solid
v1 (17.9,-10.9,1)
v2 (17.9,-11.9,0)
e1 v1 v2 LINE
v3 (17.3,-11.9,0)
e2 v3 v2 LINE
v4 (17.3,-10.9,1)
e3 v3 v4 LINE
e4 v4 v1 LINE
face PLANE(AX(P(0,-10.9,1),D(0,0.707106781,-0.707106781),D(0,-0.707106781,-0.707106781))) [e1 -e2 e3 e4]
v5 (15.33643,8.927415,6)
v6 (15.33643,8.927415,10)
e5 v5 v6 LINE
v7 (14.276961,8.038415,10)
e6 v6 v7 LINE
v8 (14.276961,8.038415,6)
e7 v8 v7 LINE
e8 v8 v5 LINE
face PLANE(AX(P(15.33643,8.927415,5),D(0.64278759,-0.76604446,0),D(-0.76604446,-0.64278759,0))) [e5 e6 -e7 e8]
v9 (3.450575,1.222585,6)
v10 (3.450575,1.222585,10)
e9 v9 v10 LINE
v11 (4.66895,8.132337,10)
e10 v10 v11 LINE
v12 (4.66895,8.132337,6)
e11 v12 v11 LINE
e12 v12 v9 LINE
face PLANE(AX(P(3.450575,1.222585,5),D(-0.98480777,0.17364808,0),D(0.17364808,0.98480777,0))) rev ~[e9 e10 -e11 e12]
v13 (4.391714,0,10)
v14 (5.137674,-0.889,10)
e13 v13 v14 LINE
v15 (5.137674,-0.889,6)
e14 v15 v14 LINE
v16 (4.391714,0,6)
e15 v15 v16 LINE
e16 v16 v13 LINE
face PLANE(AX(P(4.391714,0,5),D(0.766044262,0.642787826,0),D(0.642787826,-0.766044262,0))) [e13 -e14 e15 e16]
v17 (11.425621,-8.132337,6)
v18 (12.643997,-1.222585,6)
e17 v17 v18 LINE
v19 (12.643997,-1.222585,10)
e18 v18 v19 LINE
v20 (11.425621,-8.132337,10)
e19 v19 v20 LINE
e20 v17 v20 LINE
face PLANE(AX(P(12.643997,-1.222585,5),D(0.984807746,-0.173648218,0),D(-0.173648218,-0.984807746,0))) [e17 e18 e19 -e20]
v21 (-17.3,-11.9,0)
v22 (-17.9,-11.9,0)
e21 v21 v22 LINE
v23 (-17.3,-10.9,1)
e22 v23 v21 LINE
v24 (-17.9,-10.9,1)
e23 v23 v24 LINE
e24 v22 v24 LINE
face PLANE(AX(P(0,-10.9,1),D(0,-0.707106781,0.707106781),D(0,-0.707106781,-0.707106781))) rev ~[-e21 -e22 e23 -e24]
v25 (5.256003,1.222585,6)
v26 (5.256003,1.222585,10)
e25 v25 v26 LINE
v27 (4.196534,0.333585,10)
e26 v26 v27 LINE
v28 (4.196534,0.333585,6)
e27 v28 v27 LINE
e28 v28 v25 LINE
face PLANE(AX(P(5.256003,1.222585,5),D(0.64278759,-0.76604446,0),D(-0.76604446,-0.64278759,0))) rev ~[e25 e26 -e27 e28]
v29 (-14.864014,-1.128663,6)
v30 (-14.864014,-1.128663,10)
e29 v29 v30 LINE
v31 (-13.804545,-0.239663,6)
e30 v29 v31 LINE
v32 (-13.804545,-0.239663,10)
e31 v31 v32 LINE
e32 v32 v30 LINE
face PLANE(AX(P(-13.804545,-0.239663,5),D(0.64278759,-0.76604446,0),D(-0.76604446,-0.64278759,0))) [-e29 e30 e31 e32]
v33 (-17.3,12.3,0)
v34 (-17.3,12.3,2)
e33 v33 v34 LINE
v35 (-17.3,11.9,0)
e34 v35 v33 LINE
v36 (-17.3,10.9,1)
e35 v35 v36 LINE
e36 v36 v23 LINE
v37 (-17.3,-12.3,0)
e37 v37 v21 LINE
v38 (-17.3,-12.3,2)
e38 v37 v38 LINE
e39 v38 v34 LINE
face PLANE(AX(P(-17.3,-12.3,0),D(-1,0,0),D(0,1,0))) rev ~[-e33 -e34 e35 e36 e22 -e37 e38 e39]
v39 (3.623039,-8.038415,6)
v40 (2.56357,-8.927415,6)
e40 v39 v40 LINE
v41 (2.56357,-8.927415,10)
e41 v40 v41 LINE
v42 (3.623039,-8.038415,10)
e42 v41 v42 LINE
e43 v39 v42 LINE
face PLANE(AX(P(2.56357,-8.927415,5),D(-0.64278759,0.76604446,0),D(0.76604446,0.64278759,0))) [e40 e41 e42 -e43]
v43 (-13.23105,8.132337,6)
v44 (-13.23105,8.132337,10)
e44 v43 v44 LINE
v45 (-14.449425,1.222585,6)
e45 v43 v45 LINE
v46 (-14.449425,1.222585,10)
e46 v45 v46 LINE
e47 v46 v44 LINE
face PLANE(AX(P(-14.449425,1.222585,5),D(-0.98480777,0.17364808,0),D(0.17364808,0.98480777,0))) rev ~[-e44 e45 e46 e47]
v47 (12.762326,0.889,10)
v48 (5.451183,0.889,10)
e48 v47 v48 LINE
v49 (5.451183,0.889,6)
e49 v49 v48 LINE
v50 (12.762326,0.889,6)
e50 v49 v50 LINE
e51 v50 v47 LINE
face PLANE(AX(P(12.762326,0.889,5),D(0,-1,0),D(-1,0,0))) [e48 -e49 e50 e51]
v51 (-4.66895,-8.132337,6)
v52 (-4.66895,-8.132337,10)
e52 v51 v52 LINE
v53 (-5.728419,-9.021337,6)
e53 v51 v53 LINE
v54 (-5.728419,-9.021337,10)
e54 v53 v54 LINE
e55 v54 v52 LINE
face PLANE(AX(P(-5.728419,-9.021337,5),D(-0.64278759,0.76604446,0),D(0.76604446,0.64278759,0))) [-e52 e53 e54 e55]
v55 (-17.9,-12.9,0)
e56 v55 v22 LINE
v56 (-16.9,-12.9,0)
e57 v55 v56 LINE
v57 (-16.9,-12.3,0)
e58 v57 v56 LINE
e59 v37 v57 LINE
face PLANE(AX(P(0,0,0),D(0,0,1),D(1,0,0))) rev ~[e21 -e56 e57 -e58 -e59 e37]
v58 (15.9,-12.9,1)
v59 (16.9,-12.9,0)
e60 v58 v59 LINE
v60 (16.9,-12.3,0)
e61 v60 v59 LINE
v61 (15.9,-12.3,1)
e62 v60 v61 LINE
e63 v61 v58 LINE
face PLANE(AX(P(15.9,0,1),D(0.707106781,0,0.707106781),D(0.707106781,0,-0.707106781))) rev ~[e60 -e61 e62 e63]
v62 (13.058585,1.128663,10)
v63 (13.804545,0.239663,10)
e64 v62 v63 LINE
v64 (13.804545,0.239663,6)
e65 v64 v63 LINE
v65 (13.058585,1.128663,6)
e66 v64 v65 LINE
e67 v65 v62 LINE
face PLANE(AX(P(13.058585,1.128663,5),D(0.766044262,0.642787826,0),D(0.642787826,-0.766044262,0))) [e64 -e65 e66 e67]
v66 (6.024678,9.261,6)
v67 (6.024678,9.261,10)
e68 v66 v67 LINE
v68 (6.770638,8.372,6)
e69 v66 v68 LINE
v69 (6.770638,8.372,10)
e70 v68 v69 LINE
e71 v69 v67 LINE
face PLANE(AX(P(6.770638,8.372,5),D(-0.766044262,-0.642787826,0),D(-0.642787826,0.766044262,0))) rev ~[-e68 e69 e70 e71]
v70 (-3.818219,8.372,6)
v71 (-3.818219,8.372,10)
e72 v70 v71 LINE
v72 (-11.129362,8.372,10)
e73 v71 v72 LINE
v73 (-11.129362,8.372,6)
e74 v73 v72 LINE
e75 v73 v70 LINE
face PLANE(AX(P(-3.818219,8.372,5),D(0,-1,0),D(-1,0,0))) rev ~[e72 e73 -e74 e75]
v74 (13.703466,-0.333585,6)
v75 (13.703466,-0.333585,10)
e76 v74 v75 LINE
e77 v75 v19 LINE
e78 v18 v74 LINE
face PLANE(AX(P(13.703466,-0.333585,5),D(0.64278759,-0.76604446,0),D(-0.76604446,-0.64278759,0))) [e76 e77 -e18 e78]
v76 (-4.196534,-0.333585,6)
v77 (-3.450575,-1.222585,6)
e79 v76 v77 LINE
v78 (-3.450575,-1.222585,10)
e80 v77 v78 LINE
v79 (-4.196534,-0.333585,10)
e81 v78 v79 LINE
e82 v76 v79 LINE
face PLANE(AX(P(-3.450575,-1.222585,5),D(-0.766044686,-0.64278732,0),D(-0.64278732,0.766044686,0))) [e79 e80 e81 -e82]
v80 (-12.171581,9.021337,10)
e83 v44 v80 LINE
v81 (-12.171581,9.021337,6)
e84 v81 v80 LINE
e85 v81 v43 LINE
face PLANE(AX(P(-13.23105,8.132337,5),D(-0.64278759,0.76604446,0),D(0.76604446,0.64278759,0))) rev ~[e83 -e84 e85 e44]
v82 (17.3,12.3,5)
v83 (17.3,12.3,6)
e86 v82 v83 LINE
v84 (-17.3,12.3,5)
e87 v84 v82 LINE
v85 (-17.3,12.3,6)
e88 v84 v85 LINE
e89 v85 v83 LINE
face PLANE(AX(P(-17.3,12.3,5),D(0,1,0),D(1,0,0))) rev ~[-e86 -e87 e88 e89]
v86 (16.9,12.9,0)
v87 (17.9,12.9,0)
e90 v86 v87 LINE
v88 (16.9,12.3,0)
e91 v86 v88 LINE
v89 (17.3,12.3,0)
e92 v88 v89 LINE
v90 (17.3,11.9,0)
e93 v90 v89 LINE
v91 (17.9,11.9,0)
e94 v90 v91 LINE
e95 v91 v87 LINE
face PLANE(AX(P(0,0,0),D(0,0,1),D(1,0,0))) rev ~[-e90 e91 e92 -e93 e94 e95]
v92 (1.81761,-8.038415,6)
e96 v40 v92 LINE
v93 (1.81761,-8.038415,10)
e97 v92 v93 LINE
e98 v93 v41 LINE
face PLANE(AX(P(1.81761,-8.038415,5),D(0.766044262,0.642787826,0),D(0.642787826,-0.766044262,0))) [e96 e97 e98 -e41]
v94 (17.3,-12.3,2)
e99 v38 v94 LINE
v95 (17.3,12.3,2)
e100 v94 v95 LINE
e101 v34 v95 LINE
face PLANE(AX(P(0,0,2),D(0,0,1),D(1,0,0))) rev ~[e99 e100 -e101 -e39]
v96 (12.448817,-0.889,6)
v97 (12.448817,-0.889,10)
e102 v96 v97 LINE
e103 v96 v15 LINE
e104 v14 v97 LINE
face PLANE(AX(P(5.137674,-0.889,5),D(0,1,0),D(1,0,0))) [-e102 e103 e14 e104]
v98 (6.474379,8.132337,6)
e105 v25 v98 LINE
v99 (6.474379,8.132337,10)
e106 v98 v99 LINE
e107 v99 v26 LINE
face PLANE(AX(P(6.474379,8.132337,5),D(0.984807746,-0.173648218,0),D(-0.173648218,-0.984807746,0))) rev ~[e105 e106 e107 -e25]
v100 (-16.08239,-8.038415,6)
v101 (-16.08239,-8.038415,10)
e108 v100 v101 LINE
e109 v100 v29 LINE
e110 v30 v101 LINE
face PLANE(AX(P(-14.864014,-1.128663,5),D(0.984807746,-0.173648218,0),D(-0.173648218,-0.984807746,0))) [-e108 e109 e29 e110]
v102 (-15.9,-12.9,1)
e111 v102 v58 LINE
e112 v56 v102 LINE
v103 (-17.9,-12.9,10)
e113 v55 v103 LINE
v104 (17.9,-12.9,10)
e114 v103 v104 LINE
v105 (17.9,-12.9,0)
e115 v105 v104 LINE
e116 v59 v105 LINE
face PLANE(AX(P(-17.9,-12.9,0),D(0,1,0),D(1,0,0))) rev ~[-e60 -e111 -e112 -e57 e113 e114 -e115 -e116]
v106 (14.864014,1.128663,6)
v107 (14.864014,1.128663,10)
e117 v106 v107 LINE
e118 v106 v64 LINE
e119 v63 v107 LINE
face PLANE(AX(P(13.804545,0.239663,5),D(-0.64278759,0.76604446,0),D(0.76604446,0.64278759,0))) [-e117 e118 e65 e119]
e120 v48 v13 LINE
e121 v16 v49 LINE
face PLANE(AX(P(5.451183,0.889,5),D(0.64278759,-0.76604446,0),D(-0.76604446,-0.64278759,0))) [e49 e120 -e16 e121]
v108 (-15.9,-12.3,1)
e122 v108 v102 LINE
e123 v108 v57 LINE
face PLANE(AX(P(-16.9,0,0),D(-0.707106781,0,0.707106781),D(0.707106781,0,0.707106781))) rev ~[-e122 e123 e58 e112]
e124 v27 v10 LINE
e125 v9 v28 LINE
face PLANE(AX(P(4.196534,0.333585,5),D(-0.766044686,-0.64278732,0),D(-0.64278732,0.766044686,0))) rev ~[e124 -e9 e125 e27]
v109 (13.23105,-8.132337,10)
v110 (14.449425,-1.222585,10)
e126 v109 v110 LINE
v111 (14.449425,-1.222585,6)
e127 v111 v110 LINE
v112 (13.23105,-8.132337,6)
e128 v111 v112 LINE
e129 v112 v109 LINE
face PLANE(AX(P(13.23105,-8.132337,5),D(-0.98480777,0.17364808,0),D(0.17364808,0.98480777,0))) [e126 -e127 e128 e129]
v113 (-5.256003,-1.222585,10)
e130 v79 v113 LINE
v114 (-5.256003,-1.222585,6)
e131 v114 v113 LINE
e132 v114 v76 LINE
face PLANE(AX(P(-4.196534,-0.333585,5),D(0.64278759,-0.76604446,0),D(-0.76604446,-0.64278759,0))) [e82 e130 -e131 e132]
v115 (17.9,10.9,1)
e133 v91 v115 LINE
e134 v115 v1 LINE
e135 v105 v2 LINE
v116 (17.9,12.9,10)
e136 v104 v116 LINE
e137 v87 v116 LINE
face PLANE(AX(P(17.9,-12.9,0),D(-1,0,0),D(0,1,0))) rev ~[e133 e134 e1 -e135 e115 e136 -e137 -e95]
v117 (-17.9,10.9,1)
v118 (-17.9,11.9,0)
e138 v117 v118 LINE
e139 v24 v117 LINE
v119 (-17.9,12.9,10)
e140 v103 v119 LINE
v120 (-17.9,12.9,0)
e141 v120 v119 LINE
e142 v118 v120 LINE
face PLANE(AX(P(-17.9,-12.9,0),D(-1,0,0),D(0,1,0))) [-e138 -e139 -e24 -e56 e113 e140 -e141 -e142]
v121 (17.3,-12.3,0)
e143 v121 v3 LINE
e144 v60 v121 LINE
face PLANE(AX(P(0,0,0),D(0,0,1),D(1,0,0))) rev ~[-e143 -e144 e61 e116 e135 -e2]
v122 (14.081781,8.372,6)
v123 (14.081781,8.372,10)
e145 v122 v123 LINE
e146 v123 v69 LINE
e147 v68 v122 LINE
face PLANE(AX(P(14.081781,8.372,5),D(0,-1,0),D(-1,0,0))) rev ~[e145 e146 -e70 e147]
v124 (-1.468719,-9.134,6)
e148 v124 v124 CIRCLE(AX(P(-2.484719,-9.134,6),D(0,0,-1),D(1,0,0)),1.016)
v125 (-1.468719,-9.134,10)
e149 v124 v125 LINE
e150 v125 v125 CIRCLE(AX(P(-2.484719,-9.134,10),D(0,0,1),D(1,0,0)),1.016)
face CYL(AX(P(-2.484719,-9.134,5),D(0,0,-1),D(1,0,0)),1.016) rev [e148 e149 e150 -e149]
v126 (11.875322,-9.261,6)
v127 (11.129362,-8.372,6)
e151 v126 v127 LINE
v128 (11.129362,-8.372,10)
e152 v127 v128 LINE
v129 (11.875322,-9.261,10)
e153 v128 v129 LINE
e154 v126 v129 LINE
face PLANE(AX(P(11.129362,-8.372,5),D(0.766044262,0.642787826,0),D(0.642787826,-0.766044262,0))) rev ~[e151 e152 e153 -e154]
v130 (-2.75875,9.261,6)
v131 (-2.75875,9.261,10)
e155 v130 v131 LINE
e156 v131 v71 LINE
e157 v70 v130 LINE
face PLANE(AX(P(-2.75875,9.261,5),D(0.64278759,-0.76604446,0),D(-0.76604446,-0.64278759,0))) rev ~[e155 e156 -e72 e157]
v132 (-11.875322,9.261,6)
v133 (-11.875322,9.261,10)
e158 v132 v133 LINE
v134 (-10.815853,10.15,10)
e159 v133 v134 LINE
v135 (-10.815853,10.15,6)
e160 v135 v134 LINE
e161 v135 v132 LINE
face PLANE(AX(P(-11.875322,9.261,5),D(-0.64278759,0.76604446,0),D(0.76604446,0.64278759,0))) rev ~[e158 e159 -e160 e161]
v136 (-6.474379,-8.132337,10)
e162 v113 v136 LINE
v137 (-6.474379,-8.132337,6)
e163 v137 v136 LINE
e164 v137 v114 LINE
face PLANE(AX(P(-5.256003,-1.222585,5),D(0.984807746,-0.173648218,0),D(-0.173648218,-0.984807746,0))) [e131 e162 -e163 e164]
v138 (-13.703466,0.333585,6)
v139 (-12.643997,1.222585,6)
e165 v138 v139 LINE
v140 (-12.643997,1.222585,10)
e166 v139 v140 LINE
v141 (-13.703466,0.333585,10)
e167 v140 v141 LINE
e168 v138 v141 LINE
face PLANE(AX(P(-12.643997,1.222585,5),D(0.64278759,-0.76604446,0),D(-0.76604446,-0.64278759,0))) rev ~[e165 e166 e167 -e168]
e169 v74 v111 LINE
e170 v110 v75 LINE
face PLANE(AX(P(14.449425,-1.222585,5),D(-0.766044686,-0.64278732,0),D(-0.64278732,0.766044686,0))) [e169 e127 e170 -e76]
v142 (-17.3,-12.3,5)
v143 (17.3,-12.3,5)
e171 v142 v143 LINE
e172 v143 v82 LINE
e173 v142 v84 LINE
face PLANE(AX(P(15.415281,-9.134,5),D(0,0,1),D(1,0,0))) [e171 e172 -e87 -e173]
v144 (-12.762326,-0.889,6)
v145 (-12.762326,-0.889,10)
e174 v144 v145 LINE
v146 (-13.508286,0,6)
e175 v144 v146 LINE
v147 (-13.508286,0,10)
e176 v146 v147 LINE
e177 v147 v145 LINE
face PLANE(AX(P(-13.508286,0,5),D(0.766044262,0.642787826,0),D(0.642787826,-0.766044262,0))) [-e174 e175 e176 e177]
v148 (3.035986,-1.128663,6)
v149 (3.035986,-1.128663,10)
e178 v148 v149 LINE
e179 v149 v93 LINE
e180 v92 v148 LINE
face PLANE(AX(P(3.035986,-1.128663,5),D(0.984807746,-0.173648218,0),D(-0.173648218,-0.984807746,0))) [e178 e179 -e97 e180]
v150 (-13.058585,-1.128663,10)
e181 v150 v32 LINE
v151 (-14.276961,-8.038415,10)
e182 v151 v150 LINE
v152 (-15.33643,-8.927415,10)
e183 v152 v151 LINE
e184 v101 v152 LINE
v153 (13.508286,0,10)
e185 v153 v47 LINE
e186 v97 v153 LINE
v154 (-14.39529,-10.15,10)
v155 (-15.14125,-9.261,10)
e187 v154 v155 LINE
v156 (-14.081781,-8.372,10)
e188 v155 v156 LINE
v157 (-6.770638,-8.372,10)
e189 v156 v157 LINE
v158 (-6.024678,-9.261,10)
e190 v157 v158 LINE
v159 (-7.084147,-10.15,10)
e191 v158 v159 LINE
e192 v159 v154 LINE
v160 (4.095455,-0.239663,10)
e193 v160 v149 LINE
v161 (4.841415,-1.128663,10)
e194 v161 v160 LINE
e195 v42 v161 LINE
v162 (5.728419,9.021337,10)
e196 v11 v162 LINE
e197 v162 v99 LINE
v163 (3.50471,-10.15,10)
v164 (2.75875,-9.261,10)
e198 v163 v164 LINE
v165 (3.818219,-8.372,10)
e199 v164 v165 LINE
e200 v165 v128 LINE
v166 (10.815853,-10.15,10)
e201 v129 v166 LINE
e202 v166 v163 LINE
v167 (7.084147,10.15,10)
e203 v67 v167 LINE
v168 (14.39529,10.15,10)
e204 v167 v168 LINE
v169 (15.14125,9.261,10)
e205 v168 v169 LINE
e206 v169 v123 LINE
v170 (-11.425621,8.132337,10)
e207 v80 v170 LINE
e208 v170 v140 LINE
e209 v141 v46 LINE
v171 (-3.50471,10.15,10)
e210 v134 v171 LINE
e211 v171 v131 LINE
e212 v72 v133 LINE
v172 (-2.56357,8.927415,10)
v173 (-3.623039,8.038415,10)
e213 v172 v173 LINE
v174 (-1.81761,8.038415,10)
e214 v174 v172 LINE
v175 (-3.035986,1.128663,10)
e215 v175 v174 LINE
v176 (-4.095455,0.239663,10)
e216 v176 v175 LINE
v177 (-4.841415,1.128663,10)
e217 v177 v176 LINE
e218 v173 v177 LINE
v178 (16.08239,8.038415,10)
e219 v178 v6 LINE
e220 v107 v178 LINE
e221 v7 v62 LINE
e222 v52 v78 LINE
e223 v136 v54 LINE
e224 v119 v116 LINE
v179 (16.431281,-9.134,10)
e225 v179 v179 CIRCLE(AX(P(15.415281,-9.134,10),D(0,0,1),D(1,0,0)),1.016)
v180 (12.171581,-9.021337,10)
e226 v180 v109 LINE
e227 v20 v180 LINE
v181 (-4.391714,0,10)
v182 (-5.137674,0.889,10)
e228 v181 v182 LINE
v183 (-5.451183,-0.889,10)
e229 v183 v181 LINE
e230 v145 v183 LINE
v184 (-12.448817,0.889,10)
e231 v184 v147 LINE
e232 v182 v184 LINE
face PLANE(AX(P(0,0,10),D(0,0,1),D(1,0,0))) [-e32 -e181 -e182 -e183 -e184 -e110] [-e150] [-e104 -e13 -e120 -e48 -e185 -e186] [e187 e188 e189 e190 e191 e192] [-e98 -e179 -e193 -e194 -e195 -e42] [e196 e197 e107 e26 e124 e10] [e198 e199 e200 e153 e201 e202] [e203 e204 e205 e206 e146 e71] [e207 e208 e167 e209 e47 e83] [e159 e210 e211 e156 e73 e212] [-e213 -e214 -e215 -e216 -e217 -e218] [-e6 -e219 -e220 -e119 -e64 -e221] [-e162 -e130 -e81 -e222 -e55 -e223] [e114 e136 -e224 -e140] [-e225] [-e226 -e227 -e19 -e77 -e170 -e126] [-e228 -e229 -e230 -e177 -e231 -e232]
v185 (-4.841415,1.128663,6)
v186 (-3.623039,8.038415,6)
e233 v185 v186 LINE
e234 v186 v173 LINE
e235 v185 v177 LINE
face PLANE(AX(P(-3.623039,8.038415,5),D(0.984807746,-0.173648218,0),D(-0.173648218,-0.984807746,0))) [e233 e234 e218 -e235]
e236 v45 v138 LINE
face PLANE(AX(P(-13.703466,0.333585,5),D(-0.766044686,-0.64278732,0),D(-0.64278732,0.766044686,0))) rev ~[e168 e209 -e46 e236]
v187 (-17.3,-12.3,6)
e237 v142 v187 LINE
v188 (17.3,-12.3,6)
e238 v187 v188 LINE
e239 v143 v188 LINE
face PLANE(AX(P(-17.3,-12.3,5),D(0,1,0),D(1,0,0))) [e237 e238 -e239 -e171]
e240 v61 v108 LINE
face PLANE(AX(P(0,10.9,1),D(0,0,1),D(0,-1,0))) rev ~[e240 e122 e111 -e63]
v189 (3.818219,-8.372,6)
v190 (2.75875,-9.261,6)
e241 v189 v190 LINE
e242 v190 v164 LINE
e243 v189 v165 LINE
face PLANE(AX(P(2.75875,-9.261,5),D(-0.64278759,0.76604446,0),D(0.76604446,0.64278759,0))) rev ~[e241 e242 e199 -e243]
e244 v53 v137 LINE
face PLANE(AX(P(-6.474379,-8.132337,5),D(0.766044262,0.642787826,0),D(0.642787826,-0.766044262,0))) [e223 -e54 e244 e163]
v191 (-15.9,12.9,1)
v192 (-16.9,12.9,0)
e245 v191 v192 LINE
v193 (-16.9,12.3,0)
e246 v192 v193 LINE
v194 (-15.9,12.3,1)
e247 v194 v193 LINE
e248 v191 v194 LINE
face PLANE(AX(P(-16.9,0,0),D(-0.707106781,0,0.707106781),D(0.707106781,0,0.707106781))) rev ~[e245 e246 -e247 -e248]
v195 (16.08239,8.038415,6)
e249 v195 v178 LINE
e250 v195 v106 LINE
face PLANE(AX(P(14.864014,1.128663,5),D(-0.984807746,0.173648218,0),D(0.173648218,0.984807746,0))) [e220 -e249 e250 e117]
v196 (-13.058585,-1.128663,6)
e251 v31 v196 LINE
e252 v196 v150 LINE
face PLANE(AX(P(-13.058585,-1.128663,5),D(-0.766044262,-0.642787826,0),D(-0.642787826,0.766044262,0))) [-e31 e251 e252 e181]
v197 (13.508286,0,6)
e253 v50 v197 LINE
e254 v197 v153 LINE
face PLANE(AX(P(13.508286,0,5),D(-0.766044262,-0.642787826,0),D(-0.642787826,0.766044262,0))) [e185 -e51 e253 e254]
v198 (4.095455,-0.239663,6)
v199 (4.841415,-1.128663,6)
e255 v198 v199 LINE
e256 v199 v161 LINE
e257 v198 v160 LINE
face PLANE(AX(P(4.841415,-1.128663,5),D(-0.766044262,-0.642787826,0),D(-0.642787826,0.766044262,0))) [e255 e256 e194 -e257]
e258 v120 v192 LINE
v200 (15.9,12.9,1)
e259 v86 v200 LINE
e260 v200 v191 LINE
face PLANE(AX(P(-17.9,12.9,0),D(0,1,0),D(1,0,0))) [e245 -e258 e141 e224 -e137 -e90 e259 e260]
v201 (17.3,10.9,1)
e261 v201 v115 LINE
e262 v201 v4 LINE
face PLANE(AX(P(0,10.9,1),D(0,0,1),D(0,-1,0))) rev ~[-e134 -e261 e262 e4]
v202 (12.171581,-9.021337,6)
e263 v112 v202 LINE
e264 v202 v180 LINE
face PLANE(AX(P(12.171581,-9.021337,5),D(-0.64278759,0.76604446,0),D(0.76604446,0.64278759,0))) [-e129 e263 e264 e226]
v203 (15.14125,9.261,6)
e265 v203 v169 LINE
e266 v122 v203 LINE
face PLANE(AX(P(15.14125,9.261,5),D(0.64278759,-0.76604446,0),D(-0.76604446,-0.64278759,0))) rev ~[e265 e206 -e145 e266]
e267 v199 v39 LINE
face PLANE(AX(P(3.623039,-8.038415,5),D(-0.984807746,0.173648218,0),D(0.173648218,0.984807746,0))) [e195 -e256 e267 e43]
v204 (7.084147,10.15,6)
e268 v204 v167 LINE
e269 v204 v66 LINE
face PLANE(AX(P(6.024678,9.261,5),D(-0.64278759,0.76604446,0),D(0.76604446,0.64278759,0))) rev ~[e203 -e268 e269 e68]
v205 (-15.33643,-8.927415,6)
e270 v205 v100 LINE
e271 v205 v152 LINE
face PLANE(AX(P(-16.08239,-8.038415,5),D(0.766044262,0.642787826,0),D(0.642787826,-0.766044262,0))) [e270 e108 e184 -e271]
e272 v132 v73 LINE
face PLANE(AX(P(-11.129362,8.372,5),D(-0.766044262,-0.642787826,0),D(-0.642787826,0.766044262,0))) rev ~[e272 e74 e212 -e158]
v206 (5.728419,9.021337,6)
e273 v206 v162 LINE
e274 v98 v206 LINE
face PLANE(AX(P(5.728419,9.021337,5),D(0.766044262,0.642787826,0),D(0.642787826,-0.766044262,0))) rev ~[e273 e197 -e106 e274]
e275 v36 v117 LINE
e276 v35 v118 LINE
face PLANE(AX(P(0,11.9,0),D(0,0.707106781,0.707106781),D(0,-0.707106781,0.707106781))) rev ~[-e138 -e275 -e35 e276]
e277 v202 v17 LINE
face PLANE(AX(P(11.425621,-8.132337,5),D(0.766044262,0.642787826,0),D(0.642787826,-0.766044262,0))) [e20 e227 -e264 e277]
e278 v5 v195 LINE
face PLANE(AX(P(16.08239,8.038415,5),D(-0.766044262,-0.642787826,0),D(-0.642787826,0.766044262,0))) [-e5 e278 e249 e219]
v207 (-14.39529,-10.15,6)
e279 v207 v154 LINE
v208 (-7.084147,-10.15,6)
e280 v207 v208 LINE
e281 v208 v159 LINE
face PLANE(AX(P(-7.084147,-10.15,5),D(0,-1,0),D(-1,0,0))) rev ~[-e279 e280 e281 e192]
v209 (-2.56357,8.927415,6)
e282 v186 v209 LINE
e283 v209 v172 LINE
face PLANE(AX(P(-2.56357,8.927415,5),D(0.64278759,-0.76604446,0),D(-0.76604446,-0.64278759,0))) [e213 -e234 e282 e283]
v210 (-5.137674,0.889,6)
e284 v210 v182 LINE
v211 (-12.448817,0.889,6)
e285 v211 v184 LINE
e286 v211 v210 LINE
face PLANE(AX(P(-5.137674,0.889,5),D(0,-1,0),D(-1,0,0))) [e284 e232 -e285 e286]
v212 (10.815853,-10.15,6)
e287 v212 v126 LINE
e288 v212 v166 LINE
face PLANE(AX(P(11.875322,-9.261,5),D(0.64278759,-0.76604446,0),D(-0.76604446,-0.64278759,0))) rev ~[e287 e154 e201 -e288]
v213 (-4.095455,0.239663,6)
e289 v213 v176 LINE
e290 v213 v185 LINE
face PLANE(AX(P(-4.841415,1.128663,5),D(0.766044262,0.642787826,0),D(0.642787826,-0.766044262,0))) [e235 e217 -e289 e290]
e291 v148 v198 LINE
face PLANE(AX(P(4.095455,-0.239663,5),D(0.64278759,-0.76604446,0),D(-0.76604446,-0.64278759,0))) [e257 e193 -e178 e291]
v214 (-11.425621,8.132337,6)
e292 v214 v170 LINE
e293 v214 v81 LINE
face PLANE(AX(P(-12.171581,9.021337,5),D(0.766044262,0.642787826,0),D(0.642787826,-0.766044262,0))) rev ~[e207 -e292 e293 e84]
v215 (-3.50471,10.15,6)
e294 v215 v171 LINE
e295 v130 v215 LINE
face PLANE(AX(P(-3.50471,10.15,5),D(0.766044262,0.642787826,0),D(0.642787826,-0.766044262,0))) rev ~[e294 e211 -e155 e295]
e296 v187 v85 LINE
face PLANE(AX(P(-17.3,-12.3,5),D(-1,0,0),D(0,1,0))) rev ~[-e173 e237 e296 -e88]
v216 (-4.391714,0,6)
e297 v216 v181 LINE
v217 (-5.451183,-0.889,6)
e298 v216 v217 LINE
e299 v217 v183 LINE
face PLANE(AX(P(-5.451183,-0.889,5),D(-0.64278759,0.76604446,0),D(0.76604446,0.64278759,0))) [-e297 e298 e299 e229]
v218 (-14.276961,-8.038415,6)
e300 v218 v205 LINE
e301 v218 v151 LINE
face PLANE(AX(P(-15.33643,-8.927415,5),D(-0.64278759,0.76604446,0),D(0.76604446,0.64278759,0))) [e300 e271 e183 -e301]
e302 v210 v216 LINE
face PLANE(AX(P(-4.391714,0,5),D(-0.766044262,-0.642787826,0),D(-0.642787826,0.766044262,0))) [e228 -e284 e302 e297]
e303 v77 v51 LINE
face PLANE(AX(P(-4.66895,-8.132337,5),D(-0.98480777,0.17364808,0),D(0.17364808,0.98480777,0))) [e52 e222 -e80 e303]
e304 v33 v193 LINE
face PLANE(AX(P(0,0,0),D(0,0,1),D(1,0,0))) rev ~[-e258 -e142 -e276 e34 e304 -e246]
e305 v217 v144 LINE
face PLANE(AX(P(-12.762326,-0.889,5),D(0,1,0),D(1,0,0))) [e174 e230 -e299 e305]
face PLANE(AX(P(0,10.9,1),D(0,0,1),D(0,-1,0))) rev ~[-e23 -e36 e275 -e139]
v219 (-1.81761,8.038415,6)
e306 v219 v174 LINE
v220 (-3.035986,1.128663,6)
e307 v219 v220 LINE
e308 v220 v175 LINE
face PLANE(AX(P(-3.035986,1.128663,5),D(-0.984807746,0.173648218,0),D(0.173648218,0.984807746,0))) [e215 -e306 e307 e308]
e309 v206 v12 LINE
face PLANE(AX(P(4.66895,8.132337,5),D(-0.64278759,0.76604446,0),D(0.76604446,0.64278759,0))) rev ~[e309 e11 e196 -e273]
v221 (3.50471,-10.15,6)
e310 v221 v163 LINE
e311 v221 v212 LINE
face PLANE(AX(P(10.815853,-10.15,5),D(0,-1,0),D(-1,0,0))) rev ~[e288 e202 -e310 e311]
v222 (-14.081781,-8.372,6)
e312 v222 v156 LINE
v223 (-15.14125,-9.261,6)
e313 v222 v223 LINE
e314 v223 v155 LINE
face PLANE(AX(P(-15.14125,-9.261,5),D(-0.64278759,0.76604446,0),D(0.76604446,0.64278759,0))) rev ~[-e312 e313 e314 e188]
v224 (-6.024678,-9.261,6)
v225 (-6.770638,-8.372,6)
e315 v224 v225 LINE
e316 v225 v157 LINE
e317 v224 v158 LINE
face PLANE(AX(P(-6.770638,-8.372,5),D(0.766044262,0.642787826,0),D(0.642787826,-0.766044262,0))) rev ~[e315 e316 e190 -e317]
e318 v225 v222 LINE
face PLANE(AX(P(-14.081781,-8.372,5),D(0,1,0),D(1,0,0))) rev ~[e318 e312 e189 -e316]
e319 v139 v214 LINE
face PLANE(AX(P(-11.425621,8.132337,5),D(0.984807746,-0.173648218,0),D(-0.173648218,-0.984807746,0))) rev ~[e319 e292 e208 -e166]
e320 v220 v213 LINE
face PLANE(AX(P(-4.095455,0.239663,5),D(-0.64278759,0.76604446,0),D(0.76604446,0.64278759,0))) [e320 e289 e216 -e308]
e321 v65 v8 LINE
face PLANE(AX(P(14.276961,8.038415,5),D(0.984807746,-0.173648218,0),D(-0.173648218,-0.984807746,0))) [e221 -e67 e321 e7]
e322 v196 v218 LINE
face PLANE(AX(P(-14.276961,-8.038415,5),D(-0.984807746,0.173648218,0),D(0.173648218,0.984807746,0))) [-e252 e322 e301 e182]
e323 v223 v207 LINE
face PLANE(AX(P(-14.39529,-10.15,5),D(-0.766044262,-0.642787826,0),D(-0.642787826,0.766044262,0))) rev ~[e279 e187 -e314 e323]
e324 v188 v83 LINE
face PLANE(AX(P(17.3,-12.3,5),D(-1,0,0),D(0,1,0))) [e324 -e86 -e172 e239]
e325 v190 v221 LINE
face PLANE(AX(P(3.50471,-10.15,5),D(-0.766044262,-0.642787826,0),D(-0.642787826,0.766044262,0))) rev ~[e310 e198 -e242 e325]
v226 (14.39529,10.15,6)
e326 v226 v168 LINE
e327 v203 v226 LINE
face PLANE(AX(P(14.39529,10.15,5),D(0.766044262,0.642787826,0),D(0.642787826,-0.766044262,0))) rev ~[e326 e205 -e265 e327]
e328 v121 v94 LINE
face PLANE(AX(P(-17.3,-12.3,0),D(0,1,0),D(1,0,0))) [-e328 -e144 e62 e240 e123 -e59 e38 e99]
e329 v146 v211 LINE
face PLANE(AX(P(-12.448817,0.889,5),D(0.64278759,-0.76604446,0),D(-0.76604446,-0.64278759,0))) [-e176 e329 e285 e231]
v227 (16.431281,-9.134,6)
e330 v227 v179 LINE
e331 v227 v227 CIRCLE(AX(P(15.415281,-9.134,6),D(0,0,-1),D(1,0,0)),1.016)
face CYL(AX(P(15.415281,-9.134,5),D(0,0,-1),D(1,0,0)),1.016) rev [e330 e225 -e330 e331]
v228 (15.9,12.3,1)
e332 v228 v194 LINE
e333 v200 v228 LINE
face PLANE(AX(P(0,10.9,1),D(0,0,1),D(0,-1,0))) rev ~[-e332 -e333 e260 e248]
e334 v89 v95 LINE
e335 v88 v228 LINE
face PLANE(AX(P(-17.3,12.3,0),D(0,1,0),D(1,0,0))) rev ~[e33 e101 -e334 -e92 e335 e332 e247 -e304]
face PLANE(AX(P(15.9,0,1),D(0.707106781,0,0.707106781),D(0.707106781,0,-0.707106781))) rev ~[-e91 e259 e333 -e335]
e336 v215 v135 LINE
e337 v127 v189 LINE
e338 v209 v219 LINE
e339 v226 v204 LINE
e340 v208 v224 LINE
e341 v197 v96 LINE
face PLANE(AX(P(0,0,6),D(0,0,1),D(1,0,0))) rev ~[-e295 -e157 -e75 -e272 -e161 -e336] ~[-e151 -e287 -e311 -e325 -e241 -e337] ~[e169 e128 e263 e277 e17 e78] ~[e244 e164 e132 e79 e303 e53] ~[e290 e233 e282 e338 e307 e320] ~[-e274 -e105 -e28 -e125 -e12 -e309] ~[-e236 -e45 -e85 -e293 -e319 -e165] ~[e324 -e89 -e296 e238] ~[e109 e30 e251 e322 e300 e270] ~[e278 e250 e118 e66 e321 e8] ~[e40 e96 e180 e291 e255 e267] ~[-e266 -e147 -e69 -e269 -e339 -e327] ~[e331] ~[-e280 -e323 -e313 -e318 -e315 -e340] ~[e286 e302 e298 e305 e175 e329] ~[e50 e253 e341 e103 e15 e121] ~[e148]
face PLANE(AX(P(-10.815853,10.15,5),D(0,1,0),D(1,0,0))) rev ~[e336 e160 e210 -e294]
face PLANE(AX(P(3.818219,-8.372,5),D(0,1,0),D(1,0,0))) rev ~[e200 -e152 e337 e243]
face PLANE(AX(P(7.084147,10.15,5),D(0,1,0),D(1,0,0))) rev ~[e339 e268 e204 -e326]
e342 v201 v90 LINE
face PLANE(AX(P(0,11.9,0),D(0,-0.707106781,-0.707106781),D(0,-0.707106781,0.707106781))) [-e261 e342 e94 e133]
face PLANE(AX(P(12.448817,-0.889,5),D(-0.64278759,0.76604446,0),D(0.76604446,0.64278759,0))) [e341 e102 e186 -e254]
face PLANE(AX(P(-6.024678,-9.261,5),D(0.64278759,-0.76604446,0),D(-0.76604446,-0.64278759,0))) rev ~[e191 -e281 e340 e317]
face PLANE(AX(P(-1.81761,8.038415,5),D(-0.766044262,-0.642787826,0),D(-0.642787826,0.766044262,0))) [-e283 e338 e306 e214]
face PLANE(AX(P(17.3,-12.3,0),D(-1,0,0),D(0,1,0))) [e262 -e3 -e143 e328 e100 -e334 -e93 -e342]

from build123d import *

# Parameters (mm, degrees)
SKETCH_W             = 34.6
SKETCH_H             = 24.6
PAD001_DEPTH         = 1
SKETCH002_R          = 1.016
PAD002_DEPTH         = 5
LINEARPATTERN_COUNT  = 2
LINEARPATTERN_PITCH  = 17.9
SKETCH003_W          = 35.8
SKETCH003_H          = 25.8
PAD003_DEPTH         = 10
POCKET_DEPTH         = 12.901
POCKET_DEPTH_BACK    = 12.901
POCKET001_DEPTH      = 17.901
POCKET001_DEPTH_BACK = 17.901
SKETCH006_W          = 34.6
SKETCH006_H          = 24.6
POCKET002_DEPTH      = 2


with BuildPart() as digit001:
    # Sketch → Pad001 (new body)
    with BuildSketch(Plane.XY):
        Rectangle(SKETCH_W, SKETCH_H)
    extrude(amount=PAD001_DEPTH)

    # Sketch002 → Pad002 (join)
    with BuildSketch(Plane.XY):
        with Locations((-2.484719, -9.134)):
            Circle(SKETCH002_R)
        Polygon((-11.875322, 9.261), (-10.815853, 10.15), (-3.50471, 10.15), (-2.75875, 9.261), (-3.818219, 8.372), (-11.129362, 8.372), align=None)
        Polygon((-12.171581, 9.021337), (-11.425621, 8.132337), (-12.643997, 1.222585), (-13.703466, 0.333585), (-14.449425, 1.222585), (-13.23105, 8.132337), align=None)
        Polygon((-2.56357, 8.927415), (-3.623039, 8.038415), (-4.841415, 1.128663), (-4.095455, 0.239663), (-3.035986, 1.128663), (-1.81761, 8.038415), align=None)
        Polygon((-12.448817, 0.889), (-13.508286, 0), (-12.762326, -0.889), (-5.451183, -0.889), (-4.391714, 0), (-5.137674, 0.889), align=None)
        Polygon((-13.804545, -0.239663), (-14.864014, -1.128663), (-16.08239, -8.038415), (-15.33643, -8.927415), (-14.276961, -8.038415), (-13.058585, -1.128663), align=None)
        Polygon((-4.196534, -0.333585), (-5.256003, -1.222585), (-6.474379, -8.132337), (-5.728419, -9.021337), (-4.66895, -8.132337), (-3.450575, -1.222585), align=None)
        Polygon((-15.14125, -9.261), (-14.081781, -8.372), (-6.770638, -8.372), (-6.024678, -9.261), (-7.084147, -10.15), (-14.39529, -10.15), align=None)
    pad002 = extrude(amount=PAD002_DEPTH)

    # LinearPattern: Pad002 ×2
    with Locations(*[(i * LINEARPATTERN_PITCH, 0, 0) for i in range(1, LINEARPATTERN_COUNT)]):
        add(pad002)


with BuildPart() as digit001_1:
    # Body001 placement: moved
    add(digit001.part.moved(Location((0, 0, 5))))


with BuildPart() as pkg:
    # Sketch003 → Pad003 (new body)
    with BuildSketch(Plane.XY):
        Rectangle(SKETCH003_W, SKETCH003_H)
    extrude(amount=PAD003_DEPTH)

    # Sketch004 → Pocket (cut, two sides)
    with BuildSketch(Plane.XZ) as pocket_sk:
        Polygon((-16.9, 0), (-15.9, 1), (15.9, 1), (16.9, 0), align=None)
    extrude(amount=-POCKET_DEPTH, mode=Mode.SUBTRACT)
    extrude(pocket_sk.sketch, amount=POCKET_DEPTH_BACK, mode=Mode.SUBTRACT)

    # Sketch005 → Pocket001 (cut, two sides)
    with BuildSketch(Plane.YZ) as pocket001_sk:
        Polygon((-11.9, 0), (11.9, 0), (10.9, 1), (-10.9, 1), align=None)
    extrude(amount=-POCKET001_DEPTH, mode=Mode.SUBTRACT)
    extrude(pocket001_sk.sketch, amount=POCKET001_DEPTH_BACK, mode=Mode.SUBTRACT)

    # Sketch006 → Pocket002 (cut)
    with BuildSketch(Plane.XY):
        Rectangle(SKETCH006_W, SKETCH006_H)
    extrude(amount=POCKET002_DEPTH, mode=Mode.SUBTRACT)

    # Cut: cut Digit001
    add(digit001_1.part, mode=Mode.SUBTRACT)


solid = pkg.part
